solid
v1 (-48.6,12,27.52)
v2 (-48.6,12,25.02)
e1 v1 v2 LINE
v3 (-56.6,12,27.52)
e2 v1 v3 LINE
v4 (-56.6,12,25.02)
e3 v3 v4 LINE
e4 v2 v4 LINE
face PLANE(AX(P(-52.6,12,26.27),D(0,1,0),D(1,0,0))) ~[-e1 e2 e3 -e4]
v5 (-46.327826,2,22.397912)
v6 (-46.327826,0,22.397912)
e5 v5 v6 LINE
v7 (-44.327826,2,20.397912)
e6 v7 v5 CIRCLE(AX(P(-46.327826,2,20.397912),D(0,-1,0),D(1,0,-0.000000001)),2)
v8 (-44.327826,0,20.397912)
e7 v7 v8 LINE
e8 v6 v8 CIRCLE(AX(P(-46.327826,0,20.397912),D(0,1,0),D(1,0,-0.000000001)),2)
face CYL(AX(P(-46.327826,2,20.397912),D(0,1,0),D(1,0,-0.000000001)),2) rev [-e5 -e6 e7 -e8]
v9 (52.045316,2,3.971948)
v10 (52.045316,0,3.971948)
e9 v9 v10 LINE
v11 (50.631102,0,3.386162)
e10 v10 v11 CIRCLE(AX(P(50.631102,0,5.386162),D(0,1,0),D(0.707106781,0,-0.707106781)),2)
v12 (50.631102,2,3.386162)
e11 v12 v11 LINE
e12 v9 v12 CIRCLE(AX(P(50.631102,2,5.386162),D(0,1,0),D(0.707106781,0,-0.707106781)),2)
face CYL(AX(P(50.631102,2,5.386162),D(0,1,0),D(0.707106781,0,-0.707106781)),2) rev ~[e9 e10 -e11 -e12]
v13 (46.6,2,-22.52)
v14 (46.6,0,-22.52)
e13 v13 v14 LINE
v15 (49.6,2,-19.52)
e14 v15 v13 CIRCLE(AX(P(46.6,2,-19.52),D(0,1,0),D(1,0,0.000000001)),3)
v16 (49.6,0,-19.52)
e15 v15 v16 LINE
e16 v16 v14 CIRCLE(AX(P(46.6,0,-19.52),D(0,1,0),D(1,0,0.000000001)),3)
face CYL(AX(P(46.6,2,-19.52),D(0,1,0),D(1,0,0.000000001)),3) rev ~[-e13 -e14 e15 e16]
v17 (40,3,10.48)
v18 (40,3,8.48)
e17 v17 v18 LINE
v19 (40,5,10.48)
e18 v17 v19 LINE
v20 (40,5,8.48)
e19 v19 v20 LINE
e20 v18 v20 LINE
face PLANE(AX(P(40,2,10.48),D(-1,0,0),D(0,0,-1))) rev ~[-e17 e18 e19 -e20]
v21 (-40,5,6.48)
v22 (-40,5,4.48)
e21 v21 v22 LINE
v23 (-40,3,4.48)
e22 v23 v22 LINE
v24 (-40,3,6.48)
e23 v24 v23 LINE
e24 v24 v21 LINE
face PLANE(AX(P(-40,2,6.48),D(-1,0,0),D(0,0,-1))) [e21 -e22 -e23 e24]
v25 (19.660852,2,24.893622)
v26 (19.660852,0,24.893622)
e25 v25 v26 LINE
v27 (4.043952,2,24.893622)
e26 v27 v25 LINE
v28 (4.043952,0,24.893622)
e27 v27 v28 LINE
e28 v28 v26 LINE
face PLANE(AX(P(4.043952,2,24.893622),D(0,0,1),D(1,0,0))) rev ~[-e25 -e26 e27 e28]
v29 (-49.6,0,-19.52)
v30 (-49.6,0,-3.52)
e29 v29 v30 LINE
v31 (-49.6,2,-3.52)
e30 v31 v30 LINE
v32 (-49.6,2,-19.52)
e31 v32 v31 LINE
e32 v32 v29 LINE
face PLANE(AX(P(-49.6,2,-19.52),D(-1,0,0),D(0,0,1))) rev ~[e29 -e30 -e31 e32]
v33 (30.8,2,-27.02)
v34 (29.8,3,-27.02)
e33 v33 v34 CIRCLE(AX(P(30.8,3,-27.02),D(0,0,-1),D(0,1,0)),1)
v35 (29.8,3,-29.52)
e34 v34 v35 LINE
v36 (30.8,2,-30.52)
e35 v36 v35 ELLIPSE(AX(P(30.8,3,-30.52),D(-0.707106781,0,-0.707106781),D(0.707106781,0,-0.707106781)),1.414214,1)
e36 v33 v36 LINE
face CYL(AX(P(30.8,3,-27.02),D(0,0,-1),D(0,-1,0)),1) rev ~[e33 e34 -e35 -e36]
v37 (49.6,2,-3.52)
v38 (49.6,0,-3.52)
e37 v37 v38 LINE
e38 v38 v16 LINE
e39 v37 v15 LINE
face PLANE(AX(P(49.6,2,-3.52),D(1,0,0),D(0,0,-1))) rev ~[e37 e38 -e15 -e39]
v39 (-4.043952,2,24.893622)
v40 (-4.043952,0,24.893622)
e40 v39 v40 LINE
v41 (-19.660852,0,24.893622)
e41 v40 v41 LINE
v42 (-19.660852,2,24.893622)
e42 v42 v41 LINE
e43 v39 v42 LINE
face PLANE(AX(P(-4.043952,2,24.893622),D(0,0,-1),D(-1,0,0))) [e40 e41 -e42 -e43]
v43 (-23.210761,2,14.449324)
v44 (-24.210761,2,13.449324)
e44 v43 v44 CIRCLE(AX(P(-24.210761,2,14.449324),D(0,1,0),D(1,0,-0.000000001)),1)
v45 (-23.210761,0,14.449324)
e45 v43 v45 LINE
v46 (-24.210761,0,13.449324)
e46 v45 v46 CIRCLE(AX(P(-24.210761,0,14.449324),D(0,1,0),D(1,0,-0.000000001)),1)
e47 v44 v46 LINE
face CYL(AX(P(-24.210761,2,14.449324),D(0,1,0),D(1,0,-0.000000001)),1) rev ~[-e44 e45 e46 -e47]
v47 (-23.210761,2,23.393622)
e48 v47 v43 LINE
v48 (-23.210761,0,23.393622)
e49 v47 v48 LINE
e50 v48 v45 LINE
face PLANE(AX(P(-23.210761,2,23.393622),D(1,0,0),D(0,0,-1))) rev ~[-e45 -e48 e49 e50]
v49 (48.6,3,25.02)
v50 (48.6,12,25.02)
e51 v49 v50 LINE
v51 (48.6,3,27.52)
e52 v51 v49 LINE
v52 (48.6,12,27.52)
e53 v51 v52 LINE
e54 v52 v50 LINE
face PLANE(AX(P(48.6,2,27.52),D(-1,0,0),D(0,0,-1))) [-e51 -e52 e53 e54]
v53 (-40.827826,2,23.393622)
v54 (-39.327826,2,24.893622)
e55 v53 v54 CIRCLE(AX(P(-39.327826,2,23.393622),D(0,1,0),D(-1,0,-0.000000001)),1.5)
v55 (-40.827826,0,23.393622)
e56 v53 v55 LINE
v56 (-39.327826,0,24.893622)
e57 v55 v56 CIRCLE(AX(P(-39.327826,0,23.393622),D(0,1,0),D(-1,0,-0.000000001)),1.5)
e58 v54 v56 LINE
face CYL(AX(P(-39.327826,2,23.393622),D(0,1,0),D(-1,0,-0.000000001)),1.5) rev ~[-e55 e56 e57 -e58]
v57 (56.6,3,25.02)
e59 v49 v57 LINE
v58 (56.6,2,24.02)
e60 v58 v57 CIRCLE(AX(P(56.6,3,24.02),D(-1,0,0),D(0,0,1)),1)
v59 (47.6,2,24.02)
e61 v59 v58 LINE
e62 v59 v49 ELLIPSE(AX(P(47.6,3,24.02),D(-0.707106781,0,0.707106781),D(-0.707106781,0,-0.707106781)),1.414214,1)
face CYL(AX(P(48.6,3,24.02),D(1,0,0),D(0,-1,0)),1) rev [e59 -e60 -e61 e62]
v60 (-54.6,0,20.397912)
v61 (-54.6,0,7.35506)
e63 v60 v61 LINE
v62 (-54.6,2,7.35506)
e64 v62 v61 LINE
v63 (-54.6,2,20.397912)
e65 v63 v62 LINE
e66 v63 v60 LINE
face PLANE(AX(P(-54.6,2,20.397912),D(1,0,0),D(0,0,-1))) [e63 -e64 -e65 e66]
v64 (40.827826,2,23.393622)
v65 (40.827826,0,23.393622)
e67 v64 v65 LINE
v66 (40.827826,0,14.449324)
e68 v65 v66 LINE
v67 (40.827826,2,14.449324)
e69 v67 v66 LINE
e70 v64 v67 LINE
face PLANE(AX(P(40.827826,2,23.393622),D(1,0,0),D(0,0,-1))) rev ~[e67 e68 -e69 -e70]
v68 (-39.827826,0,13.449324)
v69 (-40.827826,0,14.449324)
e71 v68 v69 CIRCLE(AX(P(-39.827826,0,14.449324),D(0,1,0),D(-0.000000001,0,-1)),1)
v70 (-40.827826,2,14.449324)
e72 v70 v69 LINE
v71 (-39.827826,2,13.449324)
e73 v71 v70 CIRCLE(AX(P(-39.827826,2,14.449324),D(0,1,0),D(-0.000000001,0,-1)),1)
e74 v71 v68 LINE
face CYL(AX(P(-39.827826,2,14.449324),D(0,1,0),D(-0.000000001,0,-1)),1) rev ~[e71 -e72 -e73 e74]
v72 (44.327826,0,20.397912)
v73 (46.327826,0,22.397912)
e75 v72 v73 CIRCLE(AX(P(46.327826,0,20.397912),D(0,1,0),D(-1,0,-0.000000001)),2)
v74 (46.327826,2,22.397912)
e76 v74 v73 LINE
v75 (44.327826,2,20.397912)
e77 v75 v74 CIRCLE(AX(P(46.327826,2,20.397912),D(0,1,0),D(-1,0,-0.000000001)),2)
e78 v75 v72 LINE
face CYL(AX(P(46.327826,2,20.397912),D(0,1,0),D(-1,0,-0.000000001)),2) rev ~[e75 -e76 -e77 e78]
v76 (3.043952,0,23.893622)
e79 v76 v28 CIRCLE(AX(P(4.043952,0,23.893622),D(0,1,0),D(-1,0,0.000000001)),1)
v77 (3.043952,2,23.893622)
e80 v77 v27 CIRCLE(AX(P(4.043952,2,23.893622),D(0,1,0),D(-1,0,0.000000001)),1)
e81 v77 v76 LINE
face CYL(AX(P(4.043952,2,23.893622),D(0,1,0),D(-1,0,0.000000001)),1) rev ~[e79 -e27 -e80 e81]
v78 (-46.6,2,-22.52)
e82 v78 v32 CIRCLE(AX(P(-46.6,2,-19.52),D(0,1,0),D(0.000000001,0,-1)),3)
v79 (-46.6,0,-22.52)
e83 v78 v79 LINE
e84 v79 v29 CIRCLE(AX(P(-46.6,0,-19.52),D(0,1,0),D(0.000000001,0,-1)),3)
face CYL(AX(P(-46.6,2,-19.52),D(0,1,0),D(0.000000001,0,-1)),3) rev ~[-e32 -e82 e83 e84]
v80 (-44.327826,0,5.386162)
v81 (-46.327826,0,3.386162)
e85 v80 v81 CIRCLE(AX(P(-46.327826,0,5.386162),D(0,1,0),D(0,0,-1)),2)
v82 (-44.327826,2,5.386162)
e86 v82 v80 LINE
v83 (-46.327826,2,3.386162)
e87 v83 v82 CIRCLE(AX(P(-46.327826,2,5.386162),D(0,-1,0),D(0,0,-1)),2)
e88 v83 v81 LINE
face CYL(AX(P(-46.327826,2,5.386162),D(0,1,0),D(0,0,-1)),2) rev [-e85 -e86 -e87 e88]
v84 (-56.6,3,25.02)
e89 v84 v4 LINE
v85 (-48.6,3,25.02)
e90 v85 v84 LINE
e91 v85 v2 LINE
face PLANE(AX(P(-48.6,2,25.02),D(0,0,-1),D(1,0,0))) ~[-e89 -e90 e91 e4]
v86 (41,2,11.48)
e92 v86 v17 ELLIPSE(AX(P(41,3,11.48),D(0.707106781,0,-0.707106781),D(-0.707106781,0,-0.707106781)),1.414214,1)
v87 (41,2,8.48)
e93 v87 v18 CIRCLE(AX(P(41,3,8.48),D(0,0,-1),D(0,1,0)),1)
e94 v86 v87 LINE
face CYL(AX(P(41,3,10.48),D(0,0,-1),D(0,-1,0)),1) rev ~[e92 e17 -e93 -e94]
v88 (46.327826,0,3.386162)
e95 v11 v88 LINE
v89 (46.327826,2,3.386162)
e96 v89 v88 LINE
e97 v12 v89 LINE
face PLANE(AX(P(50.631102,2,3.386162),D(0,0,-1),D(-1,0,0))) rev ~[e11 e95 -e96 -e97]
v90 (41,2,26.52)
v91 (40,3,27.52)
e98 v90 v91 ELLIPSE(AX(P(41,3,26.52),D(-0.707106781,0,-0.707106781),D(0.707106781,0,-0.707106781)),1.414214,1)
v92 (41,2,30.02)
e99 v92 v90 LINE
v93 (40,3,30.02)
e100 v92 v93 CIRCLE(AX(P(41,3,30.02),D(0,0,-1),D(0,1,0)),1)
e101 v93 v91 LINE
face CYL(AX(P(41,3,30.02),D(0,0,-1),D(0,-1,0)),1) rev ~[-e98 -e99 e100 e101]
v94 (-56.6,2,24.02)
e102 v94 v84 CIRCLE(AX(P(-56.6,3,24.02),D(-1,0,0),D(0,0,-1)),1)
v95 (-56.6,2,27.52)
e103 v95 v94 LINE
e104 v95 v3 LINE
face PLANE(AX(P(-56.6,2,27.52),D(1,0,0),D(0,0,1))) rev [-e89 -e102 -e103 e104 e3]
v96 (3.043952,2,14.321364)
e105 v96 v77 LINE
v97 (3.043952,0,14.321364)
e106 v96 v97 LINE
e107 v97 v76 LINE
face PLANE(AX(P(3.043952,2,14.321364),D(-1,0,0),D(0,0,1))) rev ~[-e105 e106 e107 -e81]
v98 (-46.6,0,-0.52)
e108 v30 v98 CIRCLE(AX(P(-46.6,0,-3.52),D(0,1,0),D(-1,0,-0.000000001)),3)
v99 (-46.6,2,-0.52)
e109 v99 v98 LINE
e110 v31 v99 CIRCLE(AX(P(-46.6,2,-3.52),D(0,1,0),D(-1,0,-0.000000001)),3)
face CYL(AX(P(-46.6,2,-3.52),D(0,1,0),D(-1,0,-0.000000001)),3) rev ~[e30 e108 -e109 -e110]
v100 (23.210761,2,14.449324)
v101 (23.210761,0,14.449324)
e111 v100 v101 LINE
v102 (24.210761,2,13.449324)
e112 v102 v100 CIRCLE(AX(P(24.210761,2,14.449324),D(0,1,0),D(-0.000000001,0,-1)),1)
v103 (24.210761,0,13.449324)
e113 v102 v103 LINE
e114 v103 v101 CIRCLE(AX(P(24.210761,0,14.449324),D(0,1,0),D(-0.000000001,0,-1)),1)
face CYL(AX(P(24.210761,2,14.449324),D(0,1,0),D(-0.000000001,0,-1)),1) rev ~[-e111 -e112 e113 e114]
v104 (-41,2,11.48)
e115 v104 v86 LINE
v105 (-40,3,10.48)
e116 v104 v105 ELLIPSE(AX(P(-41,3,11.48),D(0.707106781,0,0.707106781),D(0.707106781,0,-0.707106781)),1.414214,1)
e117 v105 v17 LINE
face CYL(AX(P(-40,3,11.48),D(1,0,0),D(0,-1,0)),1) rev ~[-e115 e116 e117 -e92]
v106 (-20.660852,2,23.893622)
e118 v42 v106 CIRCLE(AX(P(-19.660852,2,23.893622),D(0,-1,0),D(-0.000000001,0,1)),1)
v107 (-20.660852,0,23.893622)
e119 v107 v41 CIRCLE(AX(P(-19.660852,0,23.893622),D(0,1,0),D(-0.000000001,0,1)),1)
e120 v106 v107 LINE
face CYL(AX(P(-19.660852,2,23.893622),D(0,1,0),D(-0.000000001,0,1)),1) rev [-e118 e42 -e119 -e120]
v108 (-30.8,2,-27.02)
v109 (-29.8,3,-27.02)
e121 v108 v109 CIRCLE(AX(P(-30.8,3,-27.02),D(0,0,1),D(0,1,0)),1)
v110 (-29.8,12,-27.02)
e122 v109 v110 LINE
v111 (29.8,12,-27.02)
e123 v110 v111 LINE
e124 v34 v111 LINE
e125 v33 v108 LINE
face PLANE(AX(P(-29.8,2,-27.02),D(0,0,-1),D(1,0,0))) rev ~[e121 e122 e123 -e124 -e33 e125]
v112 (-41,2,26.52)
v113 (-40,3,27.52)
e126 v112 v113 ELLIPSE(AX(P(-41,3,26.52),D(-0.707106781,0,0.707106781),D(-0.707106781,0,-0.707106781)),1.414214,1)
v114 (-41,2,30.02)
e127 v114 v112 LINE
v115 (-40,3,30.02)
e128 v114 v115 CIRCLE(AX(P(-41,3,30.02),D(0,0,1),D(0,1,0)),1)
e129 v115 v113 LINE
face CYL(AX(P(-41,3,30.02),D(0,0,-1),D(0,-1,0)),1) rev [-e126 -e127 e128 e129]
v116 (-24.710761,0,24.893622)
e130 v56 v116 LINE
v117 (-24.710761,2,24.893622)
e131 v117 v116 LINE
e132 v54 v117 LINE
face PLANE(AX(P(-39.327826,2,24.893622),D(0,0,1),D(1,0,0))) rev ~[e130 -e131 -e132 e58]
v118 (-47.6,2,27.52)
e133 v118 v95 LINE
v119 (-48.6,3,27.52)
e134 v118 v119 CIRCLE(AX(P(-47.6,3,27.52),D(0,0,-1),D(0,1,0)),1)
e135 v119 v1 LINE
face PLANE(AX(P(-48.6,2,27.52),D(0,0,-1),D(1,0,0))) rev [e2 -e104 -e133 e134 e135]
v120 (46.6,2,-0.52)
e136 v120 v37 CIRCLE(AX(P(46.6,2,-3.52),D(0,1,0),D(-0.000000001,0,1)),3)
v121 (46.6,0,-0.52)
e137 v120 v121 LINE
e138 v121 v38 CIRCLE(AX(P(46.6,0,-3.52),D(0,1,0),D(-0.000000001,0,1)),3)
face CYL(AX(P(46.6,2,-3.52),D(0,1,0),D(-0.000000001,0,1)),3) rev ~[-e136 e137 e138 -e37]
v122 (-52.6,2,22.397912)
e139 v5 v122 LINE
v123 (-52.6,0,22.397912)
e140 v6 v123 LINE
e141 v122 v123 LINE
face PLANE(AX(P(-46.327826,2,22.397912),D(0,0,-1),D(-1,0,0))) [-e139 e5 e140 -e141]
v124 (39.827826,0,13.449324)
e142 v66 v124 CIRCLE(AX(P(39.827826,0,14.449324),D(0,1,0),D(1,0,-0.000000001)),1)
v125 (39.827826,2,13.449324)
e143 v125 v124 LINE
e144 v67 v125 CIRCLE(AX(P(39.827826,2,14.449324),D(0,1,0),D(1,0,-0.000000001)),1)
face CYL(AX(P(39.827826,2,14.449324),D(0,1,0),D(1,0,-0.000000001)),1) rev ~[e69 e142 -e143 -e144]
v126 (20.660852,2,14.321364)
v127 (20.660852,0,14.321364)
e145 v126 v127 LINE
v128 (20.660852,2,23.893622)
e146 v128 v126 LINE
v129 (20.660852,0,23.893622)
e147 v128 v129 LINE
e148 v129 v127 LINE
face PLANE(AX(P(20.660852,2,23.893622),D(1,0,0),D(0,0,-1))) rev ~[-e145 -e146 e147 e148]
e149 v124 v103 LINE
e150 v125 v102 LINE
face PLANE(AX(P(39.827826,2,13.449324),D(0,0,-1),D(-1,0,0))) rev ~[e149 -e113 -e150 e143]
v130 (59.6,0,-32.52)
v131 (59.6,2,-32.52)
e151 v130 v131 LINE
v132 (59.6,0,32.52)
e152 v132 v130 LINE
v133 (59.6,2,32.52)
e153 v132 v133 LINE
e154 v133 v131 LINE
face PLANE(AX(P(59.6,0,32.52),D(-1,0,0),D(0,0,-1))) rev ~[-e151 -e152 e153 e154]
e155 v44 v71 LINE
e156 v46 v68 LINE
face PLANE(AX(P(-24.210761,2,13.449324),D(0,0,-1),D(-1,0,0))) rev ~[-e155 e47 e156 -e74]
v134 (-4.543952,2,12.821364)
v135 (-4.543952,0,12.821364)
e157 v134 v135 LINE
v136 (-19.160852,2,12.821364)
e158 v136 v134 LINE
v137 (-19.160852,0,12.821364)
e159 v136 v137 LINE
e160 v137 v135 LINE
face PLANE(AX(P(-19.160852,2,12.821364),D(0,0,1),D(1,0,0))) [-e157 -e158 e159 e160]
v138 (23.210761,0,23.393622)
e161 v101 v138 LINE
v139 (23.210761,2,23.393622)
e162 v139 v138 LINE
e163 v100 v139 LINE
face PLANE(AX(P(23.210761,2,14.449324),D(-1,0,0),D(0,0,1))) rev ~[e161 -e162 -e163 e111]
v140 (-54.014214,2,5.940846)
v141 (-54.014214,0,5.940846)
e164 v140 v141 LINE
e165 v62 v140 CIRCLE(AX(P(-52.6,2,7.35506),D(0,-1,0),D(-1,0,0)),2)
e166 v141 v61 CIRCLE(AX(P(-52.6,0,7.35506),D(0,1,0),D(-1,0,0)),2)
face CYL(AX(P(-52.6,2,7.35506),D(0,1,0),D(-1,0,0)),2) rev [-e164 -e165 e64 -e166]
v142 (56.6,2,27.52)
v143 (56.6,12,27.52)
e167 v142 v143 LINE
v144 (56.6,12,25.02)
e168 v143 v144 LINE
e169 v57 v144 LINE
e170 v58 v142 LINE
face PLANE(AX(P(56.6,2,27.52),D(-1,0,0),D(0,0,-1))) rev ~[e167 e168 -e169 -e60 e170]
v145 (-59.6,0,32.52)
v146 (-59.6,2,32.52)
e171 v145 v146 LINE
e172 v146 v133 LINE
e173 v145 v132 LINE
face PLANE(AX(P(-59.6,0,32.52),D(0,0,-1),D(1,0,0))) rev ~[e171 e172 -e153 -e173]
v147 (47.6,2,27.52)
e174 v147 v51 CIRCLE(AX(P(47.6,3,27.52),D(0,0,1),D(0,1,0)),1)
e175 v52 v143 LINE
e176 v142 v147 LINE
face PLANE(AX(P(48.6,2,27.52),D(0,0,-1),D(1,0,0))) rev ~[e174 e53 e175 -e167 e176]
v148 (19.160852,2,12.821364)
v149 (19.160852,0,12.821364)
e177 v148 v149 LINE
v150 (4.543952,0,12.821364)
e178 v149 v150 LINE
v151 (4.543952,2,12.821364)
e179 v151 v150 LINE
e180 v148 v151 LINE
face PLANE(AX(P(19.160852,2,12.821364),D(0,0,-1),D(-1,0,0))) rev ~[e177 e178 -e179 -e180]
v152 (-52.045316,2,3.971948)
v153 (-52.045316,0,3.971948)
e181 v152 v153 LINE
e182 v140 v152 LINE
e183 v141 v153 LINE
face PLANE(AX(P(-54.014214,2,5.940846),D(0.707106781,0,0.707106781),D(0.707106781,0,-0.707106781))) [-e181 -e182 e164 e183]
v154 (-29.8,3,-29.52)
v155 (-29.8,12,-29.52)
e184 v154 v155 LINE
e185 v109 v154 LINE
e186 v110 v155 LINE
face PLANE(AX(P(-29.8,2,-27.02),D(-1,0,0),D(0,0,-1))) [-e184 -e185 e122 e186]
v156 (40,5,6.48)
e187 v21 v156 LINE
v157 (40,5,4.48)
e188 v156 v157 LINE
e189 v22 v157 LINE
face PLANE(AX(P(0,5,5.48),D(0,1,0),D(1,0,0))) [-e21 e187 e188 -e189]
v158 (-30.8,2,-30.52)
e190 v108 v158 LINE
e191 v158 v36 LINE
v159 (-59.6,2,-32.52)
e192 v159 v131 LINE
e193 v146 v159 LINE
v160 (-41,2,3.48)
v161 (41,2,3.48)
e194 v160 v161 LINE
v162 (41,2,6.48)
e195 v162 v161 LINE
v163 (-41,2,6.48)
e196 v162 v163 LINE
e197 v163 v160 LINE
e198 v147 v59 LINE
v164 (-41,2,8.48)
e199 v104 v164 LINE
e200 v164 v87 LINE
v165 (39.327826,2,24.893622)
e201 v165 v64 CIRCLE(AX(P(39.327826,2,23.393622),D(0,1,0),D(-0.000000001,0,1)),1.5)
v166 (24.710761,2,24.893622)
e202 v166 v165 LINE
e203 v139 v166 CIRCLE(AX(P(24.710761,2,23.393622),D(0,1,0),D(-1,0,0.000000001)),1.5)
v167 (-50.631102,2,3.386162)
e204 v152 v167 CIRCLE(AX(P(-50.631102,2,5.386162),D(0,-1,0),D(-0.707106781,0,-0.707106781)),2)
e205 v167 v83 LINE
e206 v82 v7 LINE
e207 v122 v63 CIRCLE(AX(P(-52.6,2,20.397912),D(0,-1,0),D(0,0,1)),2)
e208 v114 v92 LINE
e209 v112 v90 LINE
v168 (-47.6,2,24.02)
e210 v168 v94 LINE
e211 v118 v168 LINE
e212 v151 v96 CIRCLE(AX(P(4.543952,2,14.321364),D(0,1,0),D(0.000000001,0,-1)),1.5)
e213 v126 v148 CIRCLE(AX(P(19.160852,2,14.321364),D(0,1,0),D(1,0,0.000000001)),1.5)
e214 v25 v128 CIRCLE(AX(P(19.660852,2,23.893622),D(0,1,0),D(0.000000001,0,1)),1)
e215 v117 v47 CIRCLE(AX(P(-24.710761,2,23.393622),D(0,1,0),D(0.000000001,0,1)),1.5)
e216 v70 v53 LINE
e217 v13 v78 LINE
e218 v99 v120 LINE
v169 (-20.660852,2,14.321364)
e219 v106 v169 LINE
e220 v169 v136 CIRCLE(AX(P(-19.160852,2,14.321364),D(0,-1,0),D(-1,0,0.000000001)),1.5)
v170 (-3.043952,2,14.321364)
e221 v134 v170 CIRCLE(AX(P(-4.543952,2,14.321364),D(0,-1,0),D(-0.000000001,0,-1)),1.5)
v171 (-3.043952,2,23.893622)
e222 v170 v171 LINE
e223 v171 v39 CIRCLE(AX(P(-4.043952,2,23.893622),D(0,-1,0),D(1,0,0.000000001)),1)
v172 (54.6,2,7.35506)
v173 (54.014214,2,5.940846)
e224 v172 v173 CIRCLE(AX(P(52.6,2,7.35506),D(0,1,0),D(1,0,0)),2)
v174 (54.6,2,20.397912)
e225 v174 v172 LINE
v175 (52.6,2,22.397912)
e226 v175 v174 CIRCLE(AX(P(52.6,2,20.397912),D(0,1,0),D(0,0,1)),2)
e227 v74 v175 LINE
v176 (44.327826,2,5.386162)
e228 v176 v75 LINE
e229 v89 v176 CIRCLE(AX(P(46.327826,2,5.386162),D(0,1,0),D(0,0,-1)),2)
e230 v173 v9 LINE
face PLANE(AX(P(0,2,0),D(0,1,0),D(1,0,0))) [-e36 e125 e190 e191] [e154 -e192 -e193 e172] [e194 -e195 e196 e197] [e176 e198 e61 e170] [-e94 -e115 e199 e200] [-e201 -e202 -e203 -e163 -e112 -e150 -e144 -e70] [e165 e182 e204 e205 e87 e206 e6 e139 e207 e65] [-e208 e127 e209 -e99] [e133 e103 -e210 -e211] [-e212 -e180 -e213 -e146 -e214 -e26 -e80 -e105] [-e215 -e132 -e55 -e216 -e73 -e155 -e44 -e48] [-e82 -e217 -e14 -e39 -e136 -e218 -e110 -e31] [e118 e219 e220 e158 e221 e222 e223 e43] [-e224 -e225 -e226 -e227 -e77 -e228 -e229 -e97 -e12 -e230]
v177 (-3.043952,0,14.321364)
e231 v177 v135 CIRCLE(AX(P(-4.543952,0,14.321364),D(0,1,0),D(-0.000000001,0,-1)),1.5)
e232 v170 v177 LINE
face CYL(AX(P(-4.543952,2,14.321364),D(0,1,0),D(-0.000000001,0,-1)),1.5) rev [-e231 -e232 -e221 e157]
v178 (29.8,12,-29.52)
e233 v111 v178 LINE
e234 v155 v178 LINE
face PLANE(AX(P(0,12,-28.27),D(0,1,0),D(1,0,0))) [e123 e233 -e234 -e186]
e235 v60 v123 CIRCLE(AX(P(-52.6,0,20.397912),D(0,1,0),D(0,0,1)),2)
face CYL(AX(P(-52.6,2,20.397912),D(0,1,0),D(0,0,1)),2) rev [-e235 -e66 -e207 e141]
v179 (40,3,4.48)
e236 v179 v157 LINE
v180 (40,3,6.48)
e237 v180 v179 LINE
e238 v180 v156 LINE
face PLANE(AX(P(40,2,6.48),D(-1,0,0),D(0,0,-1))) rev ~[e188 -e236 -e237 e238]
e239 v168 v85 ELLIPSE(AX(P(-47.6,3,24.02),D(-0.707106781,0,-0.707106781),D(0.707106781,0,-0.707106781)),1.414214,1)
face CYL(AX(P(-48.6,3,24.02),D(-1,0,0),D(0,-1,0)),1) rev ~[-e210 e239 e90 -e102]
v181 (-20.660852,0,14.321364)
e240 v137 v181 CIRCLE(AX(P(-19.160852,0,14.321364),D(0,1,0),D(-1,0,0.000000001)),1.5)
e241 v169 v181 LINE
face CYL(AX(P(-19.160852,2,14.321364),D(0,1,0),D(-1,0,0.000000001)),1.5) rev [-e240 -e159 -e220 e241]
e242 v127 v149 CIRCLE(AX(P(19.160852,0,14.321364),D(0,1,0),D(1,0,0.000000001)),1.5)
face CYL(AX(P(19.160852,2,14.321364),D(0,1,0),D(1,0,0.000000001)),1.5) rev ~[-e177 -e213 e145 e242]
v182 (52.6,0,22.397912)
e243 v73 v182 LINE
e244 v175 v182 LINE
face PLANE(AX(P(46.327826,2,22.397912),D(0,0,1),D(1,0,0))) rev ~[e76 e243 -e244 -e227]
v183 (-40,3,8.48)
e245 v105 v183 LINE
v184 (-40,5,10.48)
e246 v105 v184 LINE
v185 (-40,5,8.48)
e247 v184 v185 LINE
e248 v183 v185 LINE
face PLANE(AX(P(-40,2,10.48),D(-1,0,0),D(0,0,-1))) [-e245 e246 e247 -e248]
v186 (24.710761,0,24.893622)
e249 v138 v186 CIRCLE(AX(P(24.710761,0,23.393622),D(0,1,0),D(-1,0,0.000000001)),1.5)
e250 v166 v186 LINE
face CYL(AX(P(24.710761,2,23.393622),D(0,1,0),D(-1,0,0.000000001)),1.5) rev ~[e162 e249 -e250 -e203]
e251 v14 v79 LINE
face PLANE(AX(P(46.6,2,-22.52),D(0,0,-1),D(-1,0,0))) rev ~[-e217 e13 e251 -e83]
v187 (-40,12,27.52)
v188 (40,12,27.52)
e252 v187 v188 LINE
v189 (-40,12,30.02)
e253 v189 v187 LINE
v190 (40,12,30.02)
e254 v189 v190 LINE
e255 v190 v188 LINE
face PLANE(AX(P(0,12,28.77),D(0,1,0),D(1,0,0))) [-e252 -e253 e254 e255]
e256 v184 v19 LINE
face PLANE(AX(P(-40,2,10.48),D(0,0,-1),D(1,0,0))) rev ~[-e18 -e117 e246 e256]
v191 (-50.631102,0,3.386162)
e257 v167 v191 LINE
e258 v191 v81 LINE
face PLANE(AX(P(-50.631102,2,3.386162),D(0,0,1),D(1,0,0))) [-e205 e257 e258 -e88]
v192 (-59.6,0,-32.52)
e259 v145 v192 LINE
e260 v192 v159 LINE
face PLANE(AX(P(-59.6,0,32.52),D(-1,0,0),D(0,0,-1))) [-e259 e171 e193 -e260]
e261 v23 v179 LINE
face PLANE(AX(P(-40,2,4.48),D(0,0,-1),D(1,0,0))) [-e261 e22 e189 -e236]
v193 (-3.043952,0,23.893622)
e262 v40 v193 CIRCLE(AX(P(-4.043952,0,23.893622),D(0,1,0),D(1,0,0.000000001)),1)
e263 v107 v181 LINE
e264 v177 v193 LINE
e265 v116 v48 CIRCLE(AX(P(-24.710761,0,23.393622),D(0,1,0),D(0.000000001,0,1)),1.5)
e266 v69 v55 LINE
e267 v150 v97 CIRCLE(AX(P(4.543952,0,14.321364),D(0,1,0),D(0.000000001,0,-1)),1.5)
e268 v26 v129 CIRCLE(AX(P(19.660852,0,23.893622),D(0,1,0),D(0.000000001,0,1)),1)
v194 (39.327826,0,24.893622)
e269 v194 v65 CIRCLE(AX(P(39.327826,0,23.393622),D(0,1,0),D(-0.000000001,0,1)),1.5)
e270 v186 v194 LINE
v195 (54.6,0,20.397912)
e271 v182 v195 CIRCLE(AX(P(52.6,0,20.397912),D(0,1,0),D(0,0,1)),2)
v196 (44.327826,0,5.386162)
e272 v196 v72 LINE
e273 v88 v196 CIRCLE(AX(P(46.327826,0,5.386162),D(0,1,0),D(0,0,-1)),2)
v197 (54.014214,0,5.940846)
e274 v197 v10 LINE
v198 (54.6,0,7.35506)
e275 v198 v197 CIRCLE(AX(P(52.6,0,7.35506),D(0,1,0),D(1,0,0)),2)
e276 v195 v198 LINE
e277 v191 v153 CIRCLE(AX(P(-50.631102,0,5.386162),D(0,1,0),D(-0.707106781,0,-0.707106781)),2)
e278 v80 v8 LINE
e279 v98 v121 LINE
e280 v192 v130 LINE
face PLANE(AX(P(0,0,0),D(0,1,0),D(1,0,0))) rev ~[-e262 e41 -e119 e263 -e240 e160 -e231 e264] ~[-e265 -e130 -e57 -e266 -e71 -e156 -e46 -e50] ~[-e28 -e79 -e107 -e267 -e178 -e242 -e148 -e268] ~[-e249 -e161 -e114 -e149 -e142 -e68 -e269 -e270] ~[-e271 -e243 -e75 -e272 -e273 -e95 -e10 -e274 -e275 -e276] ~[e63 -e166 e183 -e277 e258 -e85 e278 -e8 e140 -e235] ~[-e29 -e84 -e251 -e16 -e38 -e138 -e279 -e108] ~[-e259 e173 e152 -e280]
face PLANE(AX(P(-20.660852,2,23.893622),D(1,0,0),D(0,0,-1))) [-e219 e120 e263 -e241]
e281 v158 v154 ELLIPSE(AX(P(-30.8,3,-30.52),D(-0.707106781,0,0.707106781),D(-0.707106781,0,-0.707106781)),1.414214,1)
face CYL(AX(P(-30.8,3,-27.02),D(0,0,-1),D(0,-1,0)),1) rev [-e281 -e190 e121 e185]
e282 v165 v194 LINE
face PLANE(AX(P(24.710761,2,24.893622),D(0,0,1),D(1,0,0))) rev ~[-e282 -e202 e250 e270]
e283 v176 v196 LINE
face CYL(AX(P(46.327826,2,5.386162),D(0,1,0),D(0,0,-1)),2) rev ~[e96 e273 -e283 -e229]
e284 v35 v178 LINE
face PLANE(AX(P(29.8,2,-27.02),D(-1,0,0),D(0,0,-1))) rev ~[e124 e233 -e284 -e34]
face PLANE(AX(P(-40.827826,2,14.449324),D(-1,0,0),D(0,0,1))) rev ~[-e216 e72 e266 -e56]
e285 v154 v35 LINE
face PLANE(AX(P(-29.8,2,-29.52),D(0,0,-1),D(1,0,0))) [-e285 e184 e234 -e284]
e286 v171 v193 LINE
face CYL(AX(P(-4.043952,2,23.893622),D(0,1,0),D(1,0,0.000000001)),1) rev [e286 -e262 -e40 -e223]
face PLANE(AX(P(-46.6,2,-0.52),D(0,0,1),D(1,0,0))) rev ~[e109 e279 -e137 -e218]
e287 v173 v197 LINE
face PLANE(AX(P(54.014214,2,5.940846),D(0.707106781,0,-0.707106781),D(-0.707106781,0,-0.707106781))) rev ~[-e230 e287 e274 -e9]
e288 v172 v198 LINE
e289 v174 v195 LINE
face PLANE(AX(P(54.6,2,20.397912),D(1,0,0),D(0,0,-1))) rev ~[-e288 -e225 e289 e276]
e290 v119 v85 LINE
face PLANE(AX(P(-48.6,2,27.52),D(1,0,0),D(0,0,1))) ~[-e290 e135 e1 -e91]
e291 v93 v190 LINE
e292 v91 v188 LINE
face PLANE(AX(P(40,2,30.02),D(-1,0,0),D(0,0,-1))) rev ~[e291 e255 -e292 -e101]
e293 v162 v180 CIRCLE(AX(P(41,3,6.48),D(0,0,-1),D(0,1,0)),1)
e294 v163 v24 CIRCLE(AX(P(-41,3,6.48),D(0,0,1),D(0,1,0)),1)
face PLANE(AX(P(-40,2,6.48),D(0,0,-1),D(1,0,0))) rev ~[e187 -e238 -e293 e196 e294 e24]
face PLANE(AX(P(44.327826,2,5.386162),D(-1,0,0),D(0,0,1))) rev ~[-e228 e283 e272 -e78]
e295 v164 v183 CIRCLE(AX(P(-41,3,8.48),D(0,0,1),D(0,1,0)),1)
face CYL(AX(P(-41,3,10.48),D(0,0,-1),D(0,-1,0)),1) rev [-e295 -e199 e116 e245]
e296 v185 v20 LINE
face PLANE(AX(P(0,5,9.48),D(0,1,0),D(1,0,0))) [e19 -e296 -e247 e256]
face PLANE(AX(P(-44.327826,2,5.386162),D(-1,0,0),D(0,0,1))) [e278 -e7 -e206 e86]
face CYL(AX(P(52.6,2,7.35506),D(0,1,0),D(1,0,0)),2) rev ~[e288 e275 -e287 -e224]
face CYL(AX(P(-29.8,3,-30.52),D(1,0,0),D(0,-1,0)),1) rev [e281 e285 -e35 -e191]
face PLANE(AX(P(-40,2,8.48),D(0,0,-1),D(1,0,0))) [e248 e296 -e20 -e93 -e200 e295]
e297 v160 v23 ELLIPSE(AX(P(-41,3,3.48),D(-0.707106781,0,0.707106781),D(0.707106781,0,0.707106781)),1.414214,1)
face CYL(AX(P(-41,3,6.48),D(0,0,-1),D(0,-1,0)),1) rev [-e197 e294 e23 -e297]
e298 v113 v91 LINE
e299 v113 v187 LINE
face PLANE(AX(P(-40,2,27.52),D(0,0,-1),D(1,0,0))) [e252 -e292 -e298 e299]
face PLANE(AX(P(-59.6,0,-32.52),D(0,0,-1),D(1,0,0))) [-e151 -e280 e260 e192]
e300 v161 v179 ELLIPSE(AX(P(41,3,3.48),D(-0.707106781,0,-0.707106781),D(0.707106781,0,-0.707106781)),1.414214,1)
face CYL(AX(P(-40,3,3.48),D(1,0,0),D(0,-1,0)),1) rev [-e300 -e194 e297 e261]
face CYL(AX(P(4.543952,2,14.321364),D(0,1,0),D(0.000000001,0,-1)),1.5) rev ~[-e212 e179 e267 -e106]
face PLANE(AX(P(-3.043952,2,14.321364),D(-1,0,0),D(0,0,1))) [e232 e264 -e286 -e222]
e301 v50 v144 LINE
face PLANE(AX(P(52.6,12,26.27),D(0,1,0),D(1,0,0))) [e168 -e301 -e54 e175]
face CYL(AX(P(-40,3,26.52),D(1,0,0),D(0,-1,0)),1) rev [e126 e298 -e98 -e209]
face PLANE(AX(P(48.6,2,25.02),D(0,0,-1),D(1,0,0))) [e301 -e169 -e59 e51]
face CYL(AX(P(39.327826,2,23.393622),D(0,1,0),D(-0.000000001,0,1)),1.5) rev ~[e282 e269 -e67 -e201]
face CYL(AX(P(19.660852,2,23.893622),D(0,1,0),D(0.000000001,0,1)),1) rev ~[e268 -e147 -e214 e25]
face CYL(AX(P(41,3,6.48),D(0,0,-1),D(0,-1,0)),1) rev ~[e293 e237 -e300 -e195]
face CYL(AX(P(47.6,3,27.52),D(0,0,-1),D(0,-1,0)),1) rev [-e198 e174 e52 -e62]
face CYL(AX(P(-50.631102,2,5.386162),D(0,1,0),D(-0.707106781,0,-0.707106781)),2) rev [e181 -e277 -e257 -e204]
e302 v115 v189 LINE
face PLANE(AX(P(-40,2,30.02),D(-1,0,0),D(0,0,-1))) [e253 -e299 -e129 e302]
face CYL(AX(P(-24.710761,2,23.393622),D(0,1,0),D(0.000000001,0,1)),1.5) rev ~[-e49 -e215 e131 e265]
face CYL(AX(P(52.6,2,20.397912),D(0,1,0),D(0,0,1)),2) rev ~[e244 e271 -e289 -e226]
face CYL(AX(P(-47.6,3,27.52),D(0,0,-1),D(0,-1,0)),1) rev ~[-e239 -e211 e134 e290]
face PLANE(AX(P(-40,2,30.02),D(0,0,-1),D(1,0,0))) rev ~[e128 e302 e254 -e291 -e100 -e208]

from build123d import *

# Parameters (mm, degrees)
SKETCH1_W           = 119.2
SKETCH1_H           = 65.04
BOSS_EXTRUDE1_DEPTH = 2
SKETCH2_W           = 80
SKETCH2_H           = 2
SKETCH2_W_2         = 59.6
SKETCH2_H_2         = 2.5
BOSS_EXTRUDE2_DEPTH = 10
FILLET1_R           = 1
SKETCH3_W           = 80
SKETCH3_H           = 2
CUT_EXTRUDE1_DEPTH  = 7
SKETCH4_W           = 80
SKETCH4_H           = 2.5
SKETCH4_W_2         = 8
BOSS_EXTRUDE3_DEPTH = 10
FILLET2_R           = 1
FILLET3_R           = 1
CUT_EXTRUDE2_DEPTH  = 10
CUT_EXTRUDE3_DEPTH  = 10


with BuildPart() as part:
    # Sketch1 → Boss-Extrude1 (new body)
    with BuildSketch(Plane(origin=(0, 0, 0), x_dir=(1, 0, 0), z_dir=(0, 1, 0))):
        Rectangle(SKETCH1_W, SKETCH1_H)
    extrude(amount=BOSS_EXTRUDE1_DEPTH)

    # Sketch2 → Boss-Extrude2 (add)
    with BuildSketch(Plane(origin=(0, 2, 0), x_dir=(1, 0, 0), z_dir=(0, 1, 0))):
        with Locations((0, -9.48)):
            Rectangle(SKETCH2_W, SKETCH2_H)
        with Locations((0, -5.48)):
            Rectangle(SKETCH2_W, SKETCH2_H)
        with Locations((0, 28.27)):
            Rectangle(SKETCH2_W_2, SKETCH2_H_2)
    extrude(amount=BOSS_EXTRUDE2_DEPTH)

    # Fillet1
    fillet1_edges = [part.edges().sort_by_distance(p)[0] for p in [
        (40, 2, 9.48),
        (0, 2, 10.48),
        (-40, 2, 9.48),
        (40, 2, 5.48),
        (0, 2, 4.48),
        (-40, 2, 5.48),
        (-29.8, 2, -28.27),
        (29.8, 2, -28.27),
        (0, 2, -29.52),
    ]]
    fillet(fillet1_edges, radius=FILLET1_R)

    # Sketch3 → Cut-Extrude1 (cut)
    with BuildSketch(Plane(origin=(0, 12, 0), x_dir=(1, 0, 0), z_dir=(0, 1, 0))):
        with Locations((0, -5.48)):
            Rectangle(SKETCH3_W, SKETCH3_H)
        with Locations((0, -9.48)):
            Rectangle(SKETCH3_W, SKETCH3_H)
    extrude(amount=-CUT_EXTRUDE1_DEPTH, mode=Mode.SUBTRACT)

    # Sketch4 → Boss-Extrude3 (add)
    with BuildSketch(Plane(origin=(0, 2, 0), x_dir=(1, 0, 0), z_dir=(0, 1, 0))):
        with Locations((0, -28.77)):
            Rectangle(SKETCH4_W, SKETCH4_H)
        with Locations((52.6, -26.27)):
            Rectangle(SKETCH4_W_2, SKETCH4_H)
    boss_extrude3 = extrude(amount=BOSS_EXTRUDE3_DEPTH)

    # Fillet2
    fillet2_edges = [part.edges().sort_by_distance(p)[0] for p in [
        (-40, 2, 28.77),
        (48.6, 2, 26.27),
        (52.6, 2, 25.02),
        (40, 2, 28.77),
        (0, 2, 27.52),
    ]]
    fillet(fillet2_edges, radius=FILLET2_R)

    # Mirror1: Boss-Extrude3 across plane
    add(boss_extrude3.mirror(Plane.ZY))

    # Fillet3
    fillet3_edges = [part.edges().sort_by_distance(p)[0] for p in [
        (-48.6, 2, 26.27),
        (-52.6, 2, 25.02),
    ]]
    fillet(fillet3_edges, radius=FILLET3_R)

    # Sketch5 → Cut-Extrude2 (cut)
    with BuildSketch(Plane(origin=(0, 2, 0), x_dir=(1, 0, 0), z_dir=(0, 1, 0))):
        with BuildLine():
            Line((46.6, 22.52), (6.311514948, 22.52))
            Line((6.311514948, 22.52), (-46.6, 22.52))
            ThreePointArc((-46.6, 22.52), (-48.721320344, 21.641320344), (-49.6, 19.52))
            Line((-49.6, 19.52), (-49.6, 3.52))
            ThreePointArc((-49.6, 3.52), (-48.721320344, 1.398679656), (-46.6, 0.52))
            Line((-46.6, 0.52), (46.6, 0.52))
            ThreePointArc((46.6, 0.52), (48.721320344, 1.398679656), (49.6, 3.52))
            Line((49.6, 3.52), (49.6, 19.52))
            ThreePointArc((49.6, 19.52), (48.721320344, 21.641320344), (46.6, 22.52))
        make_face()
    extrude(amount=-CUT_EXTRUDE2_DEPTH, mode=Mode.SUBTRACT)

    # Sketch6 → Cut-Extrude3 (cut)
    with BuildSketch(Plane(origin=(0, 2, 0), x_dir=(1, 0, 0), z_dir=(0, 1, 0))):
        with BuildLine():
            Line((54.014213562, -5.94084617), (52.045315698, -3.971948306))
            ThreePointArc((52.045315698, -3.971948306), (51.396469, -3.538402803), (50.631102135, -3.386161868))
            Line((50.631102135, -3.386161868), (46.32782558, -3.386161868))
            ThreePointArc((46.32782558, -3.386161868), (44.913612017, -3.971948306), (44.32782558, -5.386161868))
            Line((44.32782558, -5.386161868), (44.32782558, -20.397912268))
            ThreePointArc((44.32782558, -20.397912268), (44.913612017, -21.812125831), (46.32782558, -22.397912268))
            Line((46.32782558, -22.397912268), (52.6, -22.397912268))
            ThreePointArc((52.6, -22.397912268), (54.014213562, -21.812125831), (54.6, -20.397912268))
            Line((54.6, -20.397912268), (54.6, -7.355059733))
            ThreePointArc((54.6, -7.355059733), (54.447759065, -6.589692868), (54.014213562, -5.94084617))
        make_face()
        with BuildLine():
            Line((39.82782558, -13.44932419), (24.210760832, -13.44932419))
            ThreePointArc((24.210760832, -13.44932419), (23.503654051, -13.742217409), (23.210760832, -14.44932419))
            Line((23.210760832, -14.44932419), (23.210760832, -23.393622011))
            ThreePointArc((23.210760832, -23.393622011), (23.650100661, -24.454282183), (24.710760832, -24.893622011))
            Line((24.710760832, -24.893622011), (39.32782558, -24.893622011))
            ThreePointArc((39.32782558, -24.893622011), (40.388485752, -24.454282183), (40.82782558, -23.393622011))
            Line((40.82782558, -23.393622011), (40.82782558, -14.44932419))
            ThreePointArc((40.82782558, -14.44932419), (40.534932361, -13.742217409), (39.82782558, -13.44932419))
        make_face()
        with BuildLine():
            Line((4.043952302, -24.893622011), (19.660852384, -24.893622011))
            ThreePointArc((19.660852384, -24.893622011), (20.367959165, -24.600728792), (20.660852384, -23.893622011))
            Line((20.660852384, -23.893622011), (20.660852384, -14.321364431))
            ThreePointArc((20.660852384, -14.321364431), (20.221512556, -13.260704259), (19.160852384, -12.821364431))
            Line((19.160852384, -12.821364431), (4.543952302, -12.821364431))
            ThreePointArc((4.543952302, -12.821364431), (3.48329213, -13.260704259), (3.043952302, -14.321364431))
            Line((3.043952302, -14.321364431), (3.043952302, -23.893622011))
            ThreePointArc((3.043952302, -23.893622011), (3.336845521, -24.600728792), (4.043952302, -24.893622011))
        make_face()
        with BuildLine():
            Line((-4.043952302, -24.893622011), (-19.660852384, -24.893622011))
            ThreePointArc((-19.660852384, -24.893622011), (-20.367959165, -24.600728792), (-20.660852384, -23.893622011))
            Line((-20.660852384, -23.893622011), (-20.660852384, -14.321364431))
            ThreePointArc((-20.660852384, -14.321364431), (-20.221512556, -13.260704259), (-19.160852384, -12.821364431))
            Line((-19.160852384, -12.821364431), (-4.543952302, -12.821364431))
            ThreePointArc((-4.543952302, -12.821364431), (-3.48329213, -13.260704259), (-3.043952302, -14.321364431))
            Line((-3.043952302, -14.321364431), (-3.043952302, -23.893622011))
            ThreePointArc((-3.043952302, -23.893622011), (-3.336845521, -24.600728792), (-4.043952302, -24.893622011))
        make_face()
        with BuildLine():
            Line((-39.32782558, -24.893622011), (-24.710760832, -24.893622011))
            ThreePointArc((-24.710760832, -24.893622011), (-23.650100661, -24.454282183), (-23.210760832, -23.393622011))
            Line((-23.210760832, -23.393622011), (-23.210760832, -14.44932419))
            ThreePointArc((-23.210760832, -14.44932419), (-23.503654051, -13.742217409), (-24.210760832, -13.44932419))
            Line((-24.210760832, -13.44932419), (-39.82782558, -13.44932419))
            ThreePointArc((-39.82782558, -13.44932419), (-40.534932361, -13.742217409), (-40.82782558, -14.44932419))
            Line((-40.82782558, -14.44932419), (-40.82782558, -23.393622011))
            ThreePointArc((-40.82782558, -23.393622011), (-40.388485752, -24.454282183), (-39.32782558, -24.893622011))
        make_face()
        with BuildLine():
            Line((-44.32782558, -5.386161868), (-44.32782558, -20.397912268))
            ThreePointArc((-44.32782558, -20.397912268), (-44.913612017, -21.812125831), (-46.32782558, -22.397912268))
            Line((-46.32782558, -22.397912268), (-52.6, -22.397912268))
            ThreePointArc((-52.6, -22.397912268), (-54.014213562, -21.812125831), (-54.6, -20.397912268))
            Line((-54.6, -20.397912268), (-54.6, -7.355059733))
            ThreePointArc((-54.6, -7.355059733), (-54.447759065, -6.589692868), (-54.014213562, -5.94084617))
            Line((-54.014213562, -5.94084617), (-52.045315698, -3.971948306))
            ThreePointArc((-52.045315698, -3.971948306), (-51.396469, -3.538402803), (-50.631102135, -3.386161868))
            Line((-50.631102135, -3.386161868), (-46.32782558, -3.386161868))
            ThreePointArc((-46.32782558, -3.386161868), (-44.913612017, -3.971948306), (-44.32782558, -5.386161868))
        make_face()
    extrude(amount=-CUT_EXTRUDE3_DEPTH, mode=Mode.SUBTRACT)


solid = part.part
